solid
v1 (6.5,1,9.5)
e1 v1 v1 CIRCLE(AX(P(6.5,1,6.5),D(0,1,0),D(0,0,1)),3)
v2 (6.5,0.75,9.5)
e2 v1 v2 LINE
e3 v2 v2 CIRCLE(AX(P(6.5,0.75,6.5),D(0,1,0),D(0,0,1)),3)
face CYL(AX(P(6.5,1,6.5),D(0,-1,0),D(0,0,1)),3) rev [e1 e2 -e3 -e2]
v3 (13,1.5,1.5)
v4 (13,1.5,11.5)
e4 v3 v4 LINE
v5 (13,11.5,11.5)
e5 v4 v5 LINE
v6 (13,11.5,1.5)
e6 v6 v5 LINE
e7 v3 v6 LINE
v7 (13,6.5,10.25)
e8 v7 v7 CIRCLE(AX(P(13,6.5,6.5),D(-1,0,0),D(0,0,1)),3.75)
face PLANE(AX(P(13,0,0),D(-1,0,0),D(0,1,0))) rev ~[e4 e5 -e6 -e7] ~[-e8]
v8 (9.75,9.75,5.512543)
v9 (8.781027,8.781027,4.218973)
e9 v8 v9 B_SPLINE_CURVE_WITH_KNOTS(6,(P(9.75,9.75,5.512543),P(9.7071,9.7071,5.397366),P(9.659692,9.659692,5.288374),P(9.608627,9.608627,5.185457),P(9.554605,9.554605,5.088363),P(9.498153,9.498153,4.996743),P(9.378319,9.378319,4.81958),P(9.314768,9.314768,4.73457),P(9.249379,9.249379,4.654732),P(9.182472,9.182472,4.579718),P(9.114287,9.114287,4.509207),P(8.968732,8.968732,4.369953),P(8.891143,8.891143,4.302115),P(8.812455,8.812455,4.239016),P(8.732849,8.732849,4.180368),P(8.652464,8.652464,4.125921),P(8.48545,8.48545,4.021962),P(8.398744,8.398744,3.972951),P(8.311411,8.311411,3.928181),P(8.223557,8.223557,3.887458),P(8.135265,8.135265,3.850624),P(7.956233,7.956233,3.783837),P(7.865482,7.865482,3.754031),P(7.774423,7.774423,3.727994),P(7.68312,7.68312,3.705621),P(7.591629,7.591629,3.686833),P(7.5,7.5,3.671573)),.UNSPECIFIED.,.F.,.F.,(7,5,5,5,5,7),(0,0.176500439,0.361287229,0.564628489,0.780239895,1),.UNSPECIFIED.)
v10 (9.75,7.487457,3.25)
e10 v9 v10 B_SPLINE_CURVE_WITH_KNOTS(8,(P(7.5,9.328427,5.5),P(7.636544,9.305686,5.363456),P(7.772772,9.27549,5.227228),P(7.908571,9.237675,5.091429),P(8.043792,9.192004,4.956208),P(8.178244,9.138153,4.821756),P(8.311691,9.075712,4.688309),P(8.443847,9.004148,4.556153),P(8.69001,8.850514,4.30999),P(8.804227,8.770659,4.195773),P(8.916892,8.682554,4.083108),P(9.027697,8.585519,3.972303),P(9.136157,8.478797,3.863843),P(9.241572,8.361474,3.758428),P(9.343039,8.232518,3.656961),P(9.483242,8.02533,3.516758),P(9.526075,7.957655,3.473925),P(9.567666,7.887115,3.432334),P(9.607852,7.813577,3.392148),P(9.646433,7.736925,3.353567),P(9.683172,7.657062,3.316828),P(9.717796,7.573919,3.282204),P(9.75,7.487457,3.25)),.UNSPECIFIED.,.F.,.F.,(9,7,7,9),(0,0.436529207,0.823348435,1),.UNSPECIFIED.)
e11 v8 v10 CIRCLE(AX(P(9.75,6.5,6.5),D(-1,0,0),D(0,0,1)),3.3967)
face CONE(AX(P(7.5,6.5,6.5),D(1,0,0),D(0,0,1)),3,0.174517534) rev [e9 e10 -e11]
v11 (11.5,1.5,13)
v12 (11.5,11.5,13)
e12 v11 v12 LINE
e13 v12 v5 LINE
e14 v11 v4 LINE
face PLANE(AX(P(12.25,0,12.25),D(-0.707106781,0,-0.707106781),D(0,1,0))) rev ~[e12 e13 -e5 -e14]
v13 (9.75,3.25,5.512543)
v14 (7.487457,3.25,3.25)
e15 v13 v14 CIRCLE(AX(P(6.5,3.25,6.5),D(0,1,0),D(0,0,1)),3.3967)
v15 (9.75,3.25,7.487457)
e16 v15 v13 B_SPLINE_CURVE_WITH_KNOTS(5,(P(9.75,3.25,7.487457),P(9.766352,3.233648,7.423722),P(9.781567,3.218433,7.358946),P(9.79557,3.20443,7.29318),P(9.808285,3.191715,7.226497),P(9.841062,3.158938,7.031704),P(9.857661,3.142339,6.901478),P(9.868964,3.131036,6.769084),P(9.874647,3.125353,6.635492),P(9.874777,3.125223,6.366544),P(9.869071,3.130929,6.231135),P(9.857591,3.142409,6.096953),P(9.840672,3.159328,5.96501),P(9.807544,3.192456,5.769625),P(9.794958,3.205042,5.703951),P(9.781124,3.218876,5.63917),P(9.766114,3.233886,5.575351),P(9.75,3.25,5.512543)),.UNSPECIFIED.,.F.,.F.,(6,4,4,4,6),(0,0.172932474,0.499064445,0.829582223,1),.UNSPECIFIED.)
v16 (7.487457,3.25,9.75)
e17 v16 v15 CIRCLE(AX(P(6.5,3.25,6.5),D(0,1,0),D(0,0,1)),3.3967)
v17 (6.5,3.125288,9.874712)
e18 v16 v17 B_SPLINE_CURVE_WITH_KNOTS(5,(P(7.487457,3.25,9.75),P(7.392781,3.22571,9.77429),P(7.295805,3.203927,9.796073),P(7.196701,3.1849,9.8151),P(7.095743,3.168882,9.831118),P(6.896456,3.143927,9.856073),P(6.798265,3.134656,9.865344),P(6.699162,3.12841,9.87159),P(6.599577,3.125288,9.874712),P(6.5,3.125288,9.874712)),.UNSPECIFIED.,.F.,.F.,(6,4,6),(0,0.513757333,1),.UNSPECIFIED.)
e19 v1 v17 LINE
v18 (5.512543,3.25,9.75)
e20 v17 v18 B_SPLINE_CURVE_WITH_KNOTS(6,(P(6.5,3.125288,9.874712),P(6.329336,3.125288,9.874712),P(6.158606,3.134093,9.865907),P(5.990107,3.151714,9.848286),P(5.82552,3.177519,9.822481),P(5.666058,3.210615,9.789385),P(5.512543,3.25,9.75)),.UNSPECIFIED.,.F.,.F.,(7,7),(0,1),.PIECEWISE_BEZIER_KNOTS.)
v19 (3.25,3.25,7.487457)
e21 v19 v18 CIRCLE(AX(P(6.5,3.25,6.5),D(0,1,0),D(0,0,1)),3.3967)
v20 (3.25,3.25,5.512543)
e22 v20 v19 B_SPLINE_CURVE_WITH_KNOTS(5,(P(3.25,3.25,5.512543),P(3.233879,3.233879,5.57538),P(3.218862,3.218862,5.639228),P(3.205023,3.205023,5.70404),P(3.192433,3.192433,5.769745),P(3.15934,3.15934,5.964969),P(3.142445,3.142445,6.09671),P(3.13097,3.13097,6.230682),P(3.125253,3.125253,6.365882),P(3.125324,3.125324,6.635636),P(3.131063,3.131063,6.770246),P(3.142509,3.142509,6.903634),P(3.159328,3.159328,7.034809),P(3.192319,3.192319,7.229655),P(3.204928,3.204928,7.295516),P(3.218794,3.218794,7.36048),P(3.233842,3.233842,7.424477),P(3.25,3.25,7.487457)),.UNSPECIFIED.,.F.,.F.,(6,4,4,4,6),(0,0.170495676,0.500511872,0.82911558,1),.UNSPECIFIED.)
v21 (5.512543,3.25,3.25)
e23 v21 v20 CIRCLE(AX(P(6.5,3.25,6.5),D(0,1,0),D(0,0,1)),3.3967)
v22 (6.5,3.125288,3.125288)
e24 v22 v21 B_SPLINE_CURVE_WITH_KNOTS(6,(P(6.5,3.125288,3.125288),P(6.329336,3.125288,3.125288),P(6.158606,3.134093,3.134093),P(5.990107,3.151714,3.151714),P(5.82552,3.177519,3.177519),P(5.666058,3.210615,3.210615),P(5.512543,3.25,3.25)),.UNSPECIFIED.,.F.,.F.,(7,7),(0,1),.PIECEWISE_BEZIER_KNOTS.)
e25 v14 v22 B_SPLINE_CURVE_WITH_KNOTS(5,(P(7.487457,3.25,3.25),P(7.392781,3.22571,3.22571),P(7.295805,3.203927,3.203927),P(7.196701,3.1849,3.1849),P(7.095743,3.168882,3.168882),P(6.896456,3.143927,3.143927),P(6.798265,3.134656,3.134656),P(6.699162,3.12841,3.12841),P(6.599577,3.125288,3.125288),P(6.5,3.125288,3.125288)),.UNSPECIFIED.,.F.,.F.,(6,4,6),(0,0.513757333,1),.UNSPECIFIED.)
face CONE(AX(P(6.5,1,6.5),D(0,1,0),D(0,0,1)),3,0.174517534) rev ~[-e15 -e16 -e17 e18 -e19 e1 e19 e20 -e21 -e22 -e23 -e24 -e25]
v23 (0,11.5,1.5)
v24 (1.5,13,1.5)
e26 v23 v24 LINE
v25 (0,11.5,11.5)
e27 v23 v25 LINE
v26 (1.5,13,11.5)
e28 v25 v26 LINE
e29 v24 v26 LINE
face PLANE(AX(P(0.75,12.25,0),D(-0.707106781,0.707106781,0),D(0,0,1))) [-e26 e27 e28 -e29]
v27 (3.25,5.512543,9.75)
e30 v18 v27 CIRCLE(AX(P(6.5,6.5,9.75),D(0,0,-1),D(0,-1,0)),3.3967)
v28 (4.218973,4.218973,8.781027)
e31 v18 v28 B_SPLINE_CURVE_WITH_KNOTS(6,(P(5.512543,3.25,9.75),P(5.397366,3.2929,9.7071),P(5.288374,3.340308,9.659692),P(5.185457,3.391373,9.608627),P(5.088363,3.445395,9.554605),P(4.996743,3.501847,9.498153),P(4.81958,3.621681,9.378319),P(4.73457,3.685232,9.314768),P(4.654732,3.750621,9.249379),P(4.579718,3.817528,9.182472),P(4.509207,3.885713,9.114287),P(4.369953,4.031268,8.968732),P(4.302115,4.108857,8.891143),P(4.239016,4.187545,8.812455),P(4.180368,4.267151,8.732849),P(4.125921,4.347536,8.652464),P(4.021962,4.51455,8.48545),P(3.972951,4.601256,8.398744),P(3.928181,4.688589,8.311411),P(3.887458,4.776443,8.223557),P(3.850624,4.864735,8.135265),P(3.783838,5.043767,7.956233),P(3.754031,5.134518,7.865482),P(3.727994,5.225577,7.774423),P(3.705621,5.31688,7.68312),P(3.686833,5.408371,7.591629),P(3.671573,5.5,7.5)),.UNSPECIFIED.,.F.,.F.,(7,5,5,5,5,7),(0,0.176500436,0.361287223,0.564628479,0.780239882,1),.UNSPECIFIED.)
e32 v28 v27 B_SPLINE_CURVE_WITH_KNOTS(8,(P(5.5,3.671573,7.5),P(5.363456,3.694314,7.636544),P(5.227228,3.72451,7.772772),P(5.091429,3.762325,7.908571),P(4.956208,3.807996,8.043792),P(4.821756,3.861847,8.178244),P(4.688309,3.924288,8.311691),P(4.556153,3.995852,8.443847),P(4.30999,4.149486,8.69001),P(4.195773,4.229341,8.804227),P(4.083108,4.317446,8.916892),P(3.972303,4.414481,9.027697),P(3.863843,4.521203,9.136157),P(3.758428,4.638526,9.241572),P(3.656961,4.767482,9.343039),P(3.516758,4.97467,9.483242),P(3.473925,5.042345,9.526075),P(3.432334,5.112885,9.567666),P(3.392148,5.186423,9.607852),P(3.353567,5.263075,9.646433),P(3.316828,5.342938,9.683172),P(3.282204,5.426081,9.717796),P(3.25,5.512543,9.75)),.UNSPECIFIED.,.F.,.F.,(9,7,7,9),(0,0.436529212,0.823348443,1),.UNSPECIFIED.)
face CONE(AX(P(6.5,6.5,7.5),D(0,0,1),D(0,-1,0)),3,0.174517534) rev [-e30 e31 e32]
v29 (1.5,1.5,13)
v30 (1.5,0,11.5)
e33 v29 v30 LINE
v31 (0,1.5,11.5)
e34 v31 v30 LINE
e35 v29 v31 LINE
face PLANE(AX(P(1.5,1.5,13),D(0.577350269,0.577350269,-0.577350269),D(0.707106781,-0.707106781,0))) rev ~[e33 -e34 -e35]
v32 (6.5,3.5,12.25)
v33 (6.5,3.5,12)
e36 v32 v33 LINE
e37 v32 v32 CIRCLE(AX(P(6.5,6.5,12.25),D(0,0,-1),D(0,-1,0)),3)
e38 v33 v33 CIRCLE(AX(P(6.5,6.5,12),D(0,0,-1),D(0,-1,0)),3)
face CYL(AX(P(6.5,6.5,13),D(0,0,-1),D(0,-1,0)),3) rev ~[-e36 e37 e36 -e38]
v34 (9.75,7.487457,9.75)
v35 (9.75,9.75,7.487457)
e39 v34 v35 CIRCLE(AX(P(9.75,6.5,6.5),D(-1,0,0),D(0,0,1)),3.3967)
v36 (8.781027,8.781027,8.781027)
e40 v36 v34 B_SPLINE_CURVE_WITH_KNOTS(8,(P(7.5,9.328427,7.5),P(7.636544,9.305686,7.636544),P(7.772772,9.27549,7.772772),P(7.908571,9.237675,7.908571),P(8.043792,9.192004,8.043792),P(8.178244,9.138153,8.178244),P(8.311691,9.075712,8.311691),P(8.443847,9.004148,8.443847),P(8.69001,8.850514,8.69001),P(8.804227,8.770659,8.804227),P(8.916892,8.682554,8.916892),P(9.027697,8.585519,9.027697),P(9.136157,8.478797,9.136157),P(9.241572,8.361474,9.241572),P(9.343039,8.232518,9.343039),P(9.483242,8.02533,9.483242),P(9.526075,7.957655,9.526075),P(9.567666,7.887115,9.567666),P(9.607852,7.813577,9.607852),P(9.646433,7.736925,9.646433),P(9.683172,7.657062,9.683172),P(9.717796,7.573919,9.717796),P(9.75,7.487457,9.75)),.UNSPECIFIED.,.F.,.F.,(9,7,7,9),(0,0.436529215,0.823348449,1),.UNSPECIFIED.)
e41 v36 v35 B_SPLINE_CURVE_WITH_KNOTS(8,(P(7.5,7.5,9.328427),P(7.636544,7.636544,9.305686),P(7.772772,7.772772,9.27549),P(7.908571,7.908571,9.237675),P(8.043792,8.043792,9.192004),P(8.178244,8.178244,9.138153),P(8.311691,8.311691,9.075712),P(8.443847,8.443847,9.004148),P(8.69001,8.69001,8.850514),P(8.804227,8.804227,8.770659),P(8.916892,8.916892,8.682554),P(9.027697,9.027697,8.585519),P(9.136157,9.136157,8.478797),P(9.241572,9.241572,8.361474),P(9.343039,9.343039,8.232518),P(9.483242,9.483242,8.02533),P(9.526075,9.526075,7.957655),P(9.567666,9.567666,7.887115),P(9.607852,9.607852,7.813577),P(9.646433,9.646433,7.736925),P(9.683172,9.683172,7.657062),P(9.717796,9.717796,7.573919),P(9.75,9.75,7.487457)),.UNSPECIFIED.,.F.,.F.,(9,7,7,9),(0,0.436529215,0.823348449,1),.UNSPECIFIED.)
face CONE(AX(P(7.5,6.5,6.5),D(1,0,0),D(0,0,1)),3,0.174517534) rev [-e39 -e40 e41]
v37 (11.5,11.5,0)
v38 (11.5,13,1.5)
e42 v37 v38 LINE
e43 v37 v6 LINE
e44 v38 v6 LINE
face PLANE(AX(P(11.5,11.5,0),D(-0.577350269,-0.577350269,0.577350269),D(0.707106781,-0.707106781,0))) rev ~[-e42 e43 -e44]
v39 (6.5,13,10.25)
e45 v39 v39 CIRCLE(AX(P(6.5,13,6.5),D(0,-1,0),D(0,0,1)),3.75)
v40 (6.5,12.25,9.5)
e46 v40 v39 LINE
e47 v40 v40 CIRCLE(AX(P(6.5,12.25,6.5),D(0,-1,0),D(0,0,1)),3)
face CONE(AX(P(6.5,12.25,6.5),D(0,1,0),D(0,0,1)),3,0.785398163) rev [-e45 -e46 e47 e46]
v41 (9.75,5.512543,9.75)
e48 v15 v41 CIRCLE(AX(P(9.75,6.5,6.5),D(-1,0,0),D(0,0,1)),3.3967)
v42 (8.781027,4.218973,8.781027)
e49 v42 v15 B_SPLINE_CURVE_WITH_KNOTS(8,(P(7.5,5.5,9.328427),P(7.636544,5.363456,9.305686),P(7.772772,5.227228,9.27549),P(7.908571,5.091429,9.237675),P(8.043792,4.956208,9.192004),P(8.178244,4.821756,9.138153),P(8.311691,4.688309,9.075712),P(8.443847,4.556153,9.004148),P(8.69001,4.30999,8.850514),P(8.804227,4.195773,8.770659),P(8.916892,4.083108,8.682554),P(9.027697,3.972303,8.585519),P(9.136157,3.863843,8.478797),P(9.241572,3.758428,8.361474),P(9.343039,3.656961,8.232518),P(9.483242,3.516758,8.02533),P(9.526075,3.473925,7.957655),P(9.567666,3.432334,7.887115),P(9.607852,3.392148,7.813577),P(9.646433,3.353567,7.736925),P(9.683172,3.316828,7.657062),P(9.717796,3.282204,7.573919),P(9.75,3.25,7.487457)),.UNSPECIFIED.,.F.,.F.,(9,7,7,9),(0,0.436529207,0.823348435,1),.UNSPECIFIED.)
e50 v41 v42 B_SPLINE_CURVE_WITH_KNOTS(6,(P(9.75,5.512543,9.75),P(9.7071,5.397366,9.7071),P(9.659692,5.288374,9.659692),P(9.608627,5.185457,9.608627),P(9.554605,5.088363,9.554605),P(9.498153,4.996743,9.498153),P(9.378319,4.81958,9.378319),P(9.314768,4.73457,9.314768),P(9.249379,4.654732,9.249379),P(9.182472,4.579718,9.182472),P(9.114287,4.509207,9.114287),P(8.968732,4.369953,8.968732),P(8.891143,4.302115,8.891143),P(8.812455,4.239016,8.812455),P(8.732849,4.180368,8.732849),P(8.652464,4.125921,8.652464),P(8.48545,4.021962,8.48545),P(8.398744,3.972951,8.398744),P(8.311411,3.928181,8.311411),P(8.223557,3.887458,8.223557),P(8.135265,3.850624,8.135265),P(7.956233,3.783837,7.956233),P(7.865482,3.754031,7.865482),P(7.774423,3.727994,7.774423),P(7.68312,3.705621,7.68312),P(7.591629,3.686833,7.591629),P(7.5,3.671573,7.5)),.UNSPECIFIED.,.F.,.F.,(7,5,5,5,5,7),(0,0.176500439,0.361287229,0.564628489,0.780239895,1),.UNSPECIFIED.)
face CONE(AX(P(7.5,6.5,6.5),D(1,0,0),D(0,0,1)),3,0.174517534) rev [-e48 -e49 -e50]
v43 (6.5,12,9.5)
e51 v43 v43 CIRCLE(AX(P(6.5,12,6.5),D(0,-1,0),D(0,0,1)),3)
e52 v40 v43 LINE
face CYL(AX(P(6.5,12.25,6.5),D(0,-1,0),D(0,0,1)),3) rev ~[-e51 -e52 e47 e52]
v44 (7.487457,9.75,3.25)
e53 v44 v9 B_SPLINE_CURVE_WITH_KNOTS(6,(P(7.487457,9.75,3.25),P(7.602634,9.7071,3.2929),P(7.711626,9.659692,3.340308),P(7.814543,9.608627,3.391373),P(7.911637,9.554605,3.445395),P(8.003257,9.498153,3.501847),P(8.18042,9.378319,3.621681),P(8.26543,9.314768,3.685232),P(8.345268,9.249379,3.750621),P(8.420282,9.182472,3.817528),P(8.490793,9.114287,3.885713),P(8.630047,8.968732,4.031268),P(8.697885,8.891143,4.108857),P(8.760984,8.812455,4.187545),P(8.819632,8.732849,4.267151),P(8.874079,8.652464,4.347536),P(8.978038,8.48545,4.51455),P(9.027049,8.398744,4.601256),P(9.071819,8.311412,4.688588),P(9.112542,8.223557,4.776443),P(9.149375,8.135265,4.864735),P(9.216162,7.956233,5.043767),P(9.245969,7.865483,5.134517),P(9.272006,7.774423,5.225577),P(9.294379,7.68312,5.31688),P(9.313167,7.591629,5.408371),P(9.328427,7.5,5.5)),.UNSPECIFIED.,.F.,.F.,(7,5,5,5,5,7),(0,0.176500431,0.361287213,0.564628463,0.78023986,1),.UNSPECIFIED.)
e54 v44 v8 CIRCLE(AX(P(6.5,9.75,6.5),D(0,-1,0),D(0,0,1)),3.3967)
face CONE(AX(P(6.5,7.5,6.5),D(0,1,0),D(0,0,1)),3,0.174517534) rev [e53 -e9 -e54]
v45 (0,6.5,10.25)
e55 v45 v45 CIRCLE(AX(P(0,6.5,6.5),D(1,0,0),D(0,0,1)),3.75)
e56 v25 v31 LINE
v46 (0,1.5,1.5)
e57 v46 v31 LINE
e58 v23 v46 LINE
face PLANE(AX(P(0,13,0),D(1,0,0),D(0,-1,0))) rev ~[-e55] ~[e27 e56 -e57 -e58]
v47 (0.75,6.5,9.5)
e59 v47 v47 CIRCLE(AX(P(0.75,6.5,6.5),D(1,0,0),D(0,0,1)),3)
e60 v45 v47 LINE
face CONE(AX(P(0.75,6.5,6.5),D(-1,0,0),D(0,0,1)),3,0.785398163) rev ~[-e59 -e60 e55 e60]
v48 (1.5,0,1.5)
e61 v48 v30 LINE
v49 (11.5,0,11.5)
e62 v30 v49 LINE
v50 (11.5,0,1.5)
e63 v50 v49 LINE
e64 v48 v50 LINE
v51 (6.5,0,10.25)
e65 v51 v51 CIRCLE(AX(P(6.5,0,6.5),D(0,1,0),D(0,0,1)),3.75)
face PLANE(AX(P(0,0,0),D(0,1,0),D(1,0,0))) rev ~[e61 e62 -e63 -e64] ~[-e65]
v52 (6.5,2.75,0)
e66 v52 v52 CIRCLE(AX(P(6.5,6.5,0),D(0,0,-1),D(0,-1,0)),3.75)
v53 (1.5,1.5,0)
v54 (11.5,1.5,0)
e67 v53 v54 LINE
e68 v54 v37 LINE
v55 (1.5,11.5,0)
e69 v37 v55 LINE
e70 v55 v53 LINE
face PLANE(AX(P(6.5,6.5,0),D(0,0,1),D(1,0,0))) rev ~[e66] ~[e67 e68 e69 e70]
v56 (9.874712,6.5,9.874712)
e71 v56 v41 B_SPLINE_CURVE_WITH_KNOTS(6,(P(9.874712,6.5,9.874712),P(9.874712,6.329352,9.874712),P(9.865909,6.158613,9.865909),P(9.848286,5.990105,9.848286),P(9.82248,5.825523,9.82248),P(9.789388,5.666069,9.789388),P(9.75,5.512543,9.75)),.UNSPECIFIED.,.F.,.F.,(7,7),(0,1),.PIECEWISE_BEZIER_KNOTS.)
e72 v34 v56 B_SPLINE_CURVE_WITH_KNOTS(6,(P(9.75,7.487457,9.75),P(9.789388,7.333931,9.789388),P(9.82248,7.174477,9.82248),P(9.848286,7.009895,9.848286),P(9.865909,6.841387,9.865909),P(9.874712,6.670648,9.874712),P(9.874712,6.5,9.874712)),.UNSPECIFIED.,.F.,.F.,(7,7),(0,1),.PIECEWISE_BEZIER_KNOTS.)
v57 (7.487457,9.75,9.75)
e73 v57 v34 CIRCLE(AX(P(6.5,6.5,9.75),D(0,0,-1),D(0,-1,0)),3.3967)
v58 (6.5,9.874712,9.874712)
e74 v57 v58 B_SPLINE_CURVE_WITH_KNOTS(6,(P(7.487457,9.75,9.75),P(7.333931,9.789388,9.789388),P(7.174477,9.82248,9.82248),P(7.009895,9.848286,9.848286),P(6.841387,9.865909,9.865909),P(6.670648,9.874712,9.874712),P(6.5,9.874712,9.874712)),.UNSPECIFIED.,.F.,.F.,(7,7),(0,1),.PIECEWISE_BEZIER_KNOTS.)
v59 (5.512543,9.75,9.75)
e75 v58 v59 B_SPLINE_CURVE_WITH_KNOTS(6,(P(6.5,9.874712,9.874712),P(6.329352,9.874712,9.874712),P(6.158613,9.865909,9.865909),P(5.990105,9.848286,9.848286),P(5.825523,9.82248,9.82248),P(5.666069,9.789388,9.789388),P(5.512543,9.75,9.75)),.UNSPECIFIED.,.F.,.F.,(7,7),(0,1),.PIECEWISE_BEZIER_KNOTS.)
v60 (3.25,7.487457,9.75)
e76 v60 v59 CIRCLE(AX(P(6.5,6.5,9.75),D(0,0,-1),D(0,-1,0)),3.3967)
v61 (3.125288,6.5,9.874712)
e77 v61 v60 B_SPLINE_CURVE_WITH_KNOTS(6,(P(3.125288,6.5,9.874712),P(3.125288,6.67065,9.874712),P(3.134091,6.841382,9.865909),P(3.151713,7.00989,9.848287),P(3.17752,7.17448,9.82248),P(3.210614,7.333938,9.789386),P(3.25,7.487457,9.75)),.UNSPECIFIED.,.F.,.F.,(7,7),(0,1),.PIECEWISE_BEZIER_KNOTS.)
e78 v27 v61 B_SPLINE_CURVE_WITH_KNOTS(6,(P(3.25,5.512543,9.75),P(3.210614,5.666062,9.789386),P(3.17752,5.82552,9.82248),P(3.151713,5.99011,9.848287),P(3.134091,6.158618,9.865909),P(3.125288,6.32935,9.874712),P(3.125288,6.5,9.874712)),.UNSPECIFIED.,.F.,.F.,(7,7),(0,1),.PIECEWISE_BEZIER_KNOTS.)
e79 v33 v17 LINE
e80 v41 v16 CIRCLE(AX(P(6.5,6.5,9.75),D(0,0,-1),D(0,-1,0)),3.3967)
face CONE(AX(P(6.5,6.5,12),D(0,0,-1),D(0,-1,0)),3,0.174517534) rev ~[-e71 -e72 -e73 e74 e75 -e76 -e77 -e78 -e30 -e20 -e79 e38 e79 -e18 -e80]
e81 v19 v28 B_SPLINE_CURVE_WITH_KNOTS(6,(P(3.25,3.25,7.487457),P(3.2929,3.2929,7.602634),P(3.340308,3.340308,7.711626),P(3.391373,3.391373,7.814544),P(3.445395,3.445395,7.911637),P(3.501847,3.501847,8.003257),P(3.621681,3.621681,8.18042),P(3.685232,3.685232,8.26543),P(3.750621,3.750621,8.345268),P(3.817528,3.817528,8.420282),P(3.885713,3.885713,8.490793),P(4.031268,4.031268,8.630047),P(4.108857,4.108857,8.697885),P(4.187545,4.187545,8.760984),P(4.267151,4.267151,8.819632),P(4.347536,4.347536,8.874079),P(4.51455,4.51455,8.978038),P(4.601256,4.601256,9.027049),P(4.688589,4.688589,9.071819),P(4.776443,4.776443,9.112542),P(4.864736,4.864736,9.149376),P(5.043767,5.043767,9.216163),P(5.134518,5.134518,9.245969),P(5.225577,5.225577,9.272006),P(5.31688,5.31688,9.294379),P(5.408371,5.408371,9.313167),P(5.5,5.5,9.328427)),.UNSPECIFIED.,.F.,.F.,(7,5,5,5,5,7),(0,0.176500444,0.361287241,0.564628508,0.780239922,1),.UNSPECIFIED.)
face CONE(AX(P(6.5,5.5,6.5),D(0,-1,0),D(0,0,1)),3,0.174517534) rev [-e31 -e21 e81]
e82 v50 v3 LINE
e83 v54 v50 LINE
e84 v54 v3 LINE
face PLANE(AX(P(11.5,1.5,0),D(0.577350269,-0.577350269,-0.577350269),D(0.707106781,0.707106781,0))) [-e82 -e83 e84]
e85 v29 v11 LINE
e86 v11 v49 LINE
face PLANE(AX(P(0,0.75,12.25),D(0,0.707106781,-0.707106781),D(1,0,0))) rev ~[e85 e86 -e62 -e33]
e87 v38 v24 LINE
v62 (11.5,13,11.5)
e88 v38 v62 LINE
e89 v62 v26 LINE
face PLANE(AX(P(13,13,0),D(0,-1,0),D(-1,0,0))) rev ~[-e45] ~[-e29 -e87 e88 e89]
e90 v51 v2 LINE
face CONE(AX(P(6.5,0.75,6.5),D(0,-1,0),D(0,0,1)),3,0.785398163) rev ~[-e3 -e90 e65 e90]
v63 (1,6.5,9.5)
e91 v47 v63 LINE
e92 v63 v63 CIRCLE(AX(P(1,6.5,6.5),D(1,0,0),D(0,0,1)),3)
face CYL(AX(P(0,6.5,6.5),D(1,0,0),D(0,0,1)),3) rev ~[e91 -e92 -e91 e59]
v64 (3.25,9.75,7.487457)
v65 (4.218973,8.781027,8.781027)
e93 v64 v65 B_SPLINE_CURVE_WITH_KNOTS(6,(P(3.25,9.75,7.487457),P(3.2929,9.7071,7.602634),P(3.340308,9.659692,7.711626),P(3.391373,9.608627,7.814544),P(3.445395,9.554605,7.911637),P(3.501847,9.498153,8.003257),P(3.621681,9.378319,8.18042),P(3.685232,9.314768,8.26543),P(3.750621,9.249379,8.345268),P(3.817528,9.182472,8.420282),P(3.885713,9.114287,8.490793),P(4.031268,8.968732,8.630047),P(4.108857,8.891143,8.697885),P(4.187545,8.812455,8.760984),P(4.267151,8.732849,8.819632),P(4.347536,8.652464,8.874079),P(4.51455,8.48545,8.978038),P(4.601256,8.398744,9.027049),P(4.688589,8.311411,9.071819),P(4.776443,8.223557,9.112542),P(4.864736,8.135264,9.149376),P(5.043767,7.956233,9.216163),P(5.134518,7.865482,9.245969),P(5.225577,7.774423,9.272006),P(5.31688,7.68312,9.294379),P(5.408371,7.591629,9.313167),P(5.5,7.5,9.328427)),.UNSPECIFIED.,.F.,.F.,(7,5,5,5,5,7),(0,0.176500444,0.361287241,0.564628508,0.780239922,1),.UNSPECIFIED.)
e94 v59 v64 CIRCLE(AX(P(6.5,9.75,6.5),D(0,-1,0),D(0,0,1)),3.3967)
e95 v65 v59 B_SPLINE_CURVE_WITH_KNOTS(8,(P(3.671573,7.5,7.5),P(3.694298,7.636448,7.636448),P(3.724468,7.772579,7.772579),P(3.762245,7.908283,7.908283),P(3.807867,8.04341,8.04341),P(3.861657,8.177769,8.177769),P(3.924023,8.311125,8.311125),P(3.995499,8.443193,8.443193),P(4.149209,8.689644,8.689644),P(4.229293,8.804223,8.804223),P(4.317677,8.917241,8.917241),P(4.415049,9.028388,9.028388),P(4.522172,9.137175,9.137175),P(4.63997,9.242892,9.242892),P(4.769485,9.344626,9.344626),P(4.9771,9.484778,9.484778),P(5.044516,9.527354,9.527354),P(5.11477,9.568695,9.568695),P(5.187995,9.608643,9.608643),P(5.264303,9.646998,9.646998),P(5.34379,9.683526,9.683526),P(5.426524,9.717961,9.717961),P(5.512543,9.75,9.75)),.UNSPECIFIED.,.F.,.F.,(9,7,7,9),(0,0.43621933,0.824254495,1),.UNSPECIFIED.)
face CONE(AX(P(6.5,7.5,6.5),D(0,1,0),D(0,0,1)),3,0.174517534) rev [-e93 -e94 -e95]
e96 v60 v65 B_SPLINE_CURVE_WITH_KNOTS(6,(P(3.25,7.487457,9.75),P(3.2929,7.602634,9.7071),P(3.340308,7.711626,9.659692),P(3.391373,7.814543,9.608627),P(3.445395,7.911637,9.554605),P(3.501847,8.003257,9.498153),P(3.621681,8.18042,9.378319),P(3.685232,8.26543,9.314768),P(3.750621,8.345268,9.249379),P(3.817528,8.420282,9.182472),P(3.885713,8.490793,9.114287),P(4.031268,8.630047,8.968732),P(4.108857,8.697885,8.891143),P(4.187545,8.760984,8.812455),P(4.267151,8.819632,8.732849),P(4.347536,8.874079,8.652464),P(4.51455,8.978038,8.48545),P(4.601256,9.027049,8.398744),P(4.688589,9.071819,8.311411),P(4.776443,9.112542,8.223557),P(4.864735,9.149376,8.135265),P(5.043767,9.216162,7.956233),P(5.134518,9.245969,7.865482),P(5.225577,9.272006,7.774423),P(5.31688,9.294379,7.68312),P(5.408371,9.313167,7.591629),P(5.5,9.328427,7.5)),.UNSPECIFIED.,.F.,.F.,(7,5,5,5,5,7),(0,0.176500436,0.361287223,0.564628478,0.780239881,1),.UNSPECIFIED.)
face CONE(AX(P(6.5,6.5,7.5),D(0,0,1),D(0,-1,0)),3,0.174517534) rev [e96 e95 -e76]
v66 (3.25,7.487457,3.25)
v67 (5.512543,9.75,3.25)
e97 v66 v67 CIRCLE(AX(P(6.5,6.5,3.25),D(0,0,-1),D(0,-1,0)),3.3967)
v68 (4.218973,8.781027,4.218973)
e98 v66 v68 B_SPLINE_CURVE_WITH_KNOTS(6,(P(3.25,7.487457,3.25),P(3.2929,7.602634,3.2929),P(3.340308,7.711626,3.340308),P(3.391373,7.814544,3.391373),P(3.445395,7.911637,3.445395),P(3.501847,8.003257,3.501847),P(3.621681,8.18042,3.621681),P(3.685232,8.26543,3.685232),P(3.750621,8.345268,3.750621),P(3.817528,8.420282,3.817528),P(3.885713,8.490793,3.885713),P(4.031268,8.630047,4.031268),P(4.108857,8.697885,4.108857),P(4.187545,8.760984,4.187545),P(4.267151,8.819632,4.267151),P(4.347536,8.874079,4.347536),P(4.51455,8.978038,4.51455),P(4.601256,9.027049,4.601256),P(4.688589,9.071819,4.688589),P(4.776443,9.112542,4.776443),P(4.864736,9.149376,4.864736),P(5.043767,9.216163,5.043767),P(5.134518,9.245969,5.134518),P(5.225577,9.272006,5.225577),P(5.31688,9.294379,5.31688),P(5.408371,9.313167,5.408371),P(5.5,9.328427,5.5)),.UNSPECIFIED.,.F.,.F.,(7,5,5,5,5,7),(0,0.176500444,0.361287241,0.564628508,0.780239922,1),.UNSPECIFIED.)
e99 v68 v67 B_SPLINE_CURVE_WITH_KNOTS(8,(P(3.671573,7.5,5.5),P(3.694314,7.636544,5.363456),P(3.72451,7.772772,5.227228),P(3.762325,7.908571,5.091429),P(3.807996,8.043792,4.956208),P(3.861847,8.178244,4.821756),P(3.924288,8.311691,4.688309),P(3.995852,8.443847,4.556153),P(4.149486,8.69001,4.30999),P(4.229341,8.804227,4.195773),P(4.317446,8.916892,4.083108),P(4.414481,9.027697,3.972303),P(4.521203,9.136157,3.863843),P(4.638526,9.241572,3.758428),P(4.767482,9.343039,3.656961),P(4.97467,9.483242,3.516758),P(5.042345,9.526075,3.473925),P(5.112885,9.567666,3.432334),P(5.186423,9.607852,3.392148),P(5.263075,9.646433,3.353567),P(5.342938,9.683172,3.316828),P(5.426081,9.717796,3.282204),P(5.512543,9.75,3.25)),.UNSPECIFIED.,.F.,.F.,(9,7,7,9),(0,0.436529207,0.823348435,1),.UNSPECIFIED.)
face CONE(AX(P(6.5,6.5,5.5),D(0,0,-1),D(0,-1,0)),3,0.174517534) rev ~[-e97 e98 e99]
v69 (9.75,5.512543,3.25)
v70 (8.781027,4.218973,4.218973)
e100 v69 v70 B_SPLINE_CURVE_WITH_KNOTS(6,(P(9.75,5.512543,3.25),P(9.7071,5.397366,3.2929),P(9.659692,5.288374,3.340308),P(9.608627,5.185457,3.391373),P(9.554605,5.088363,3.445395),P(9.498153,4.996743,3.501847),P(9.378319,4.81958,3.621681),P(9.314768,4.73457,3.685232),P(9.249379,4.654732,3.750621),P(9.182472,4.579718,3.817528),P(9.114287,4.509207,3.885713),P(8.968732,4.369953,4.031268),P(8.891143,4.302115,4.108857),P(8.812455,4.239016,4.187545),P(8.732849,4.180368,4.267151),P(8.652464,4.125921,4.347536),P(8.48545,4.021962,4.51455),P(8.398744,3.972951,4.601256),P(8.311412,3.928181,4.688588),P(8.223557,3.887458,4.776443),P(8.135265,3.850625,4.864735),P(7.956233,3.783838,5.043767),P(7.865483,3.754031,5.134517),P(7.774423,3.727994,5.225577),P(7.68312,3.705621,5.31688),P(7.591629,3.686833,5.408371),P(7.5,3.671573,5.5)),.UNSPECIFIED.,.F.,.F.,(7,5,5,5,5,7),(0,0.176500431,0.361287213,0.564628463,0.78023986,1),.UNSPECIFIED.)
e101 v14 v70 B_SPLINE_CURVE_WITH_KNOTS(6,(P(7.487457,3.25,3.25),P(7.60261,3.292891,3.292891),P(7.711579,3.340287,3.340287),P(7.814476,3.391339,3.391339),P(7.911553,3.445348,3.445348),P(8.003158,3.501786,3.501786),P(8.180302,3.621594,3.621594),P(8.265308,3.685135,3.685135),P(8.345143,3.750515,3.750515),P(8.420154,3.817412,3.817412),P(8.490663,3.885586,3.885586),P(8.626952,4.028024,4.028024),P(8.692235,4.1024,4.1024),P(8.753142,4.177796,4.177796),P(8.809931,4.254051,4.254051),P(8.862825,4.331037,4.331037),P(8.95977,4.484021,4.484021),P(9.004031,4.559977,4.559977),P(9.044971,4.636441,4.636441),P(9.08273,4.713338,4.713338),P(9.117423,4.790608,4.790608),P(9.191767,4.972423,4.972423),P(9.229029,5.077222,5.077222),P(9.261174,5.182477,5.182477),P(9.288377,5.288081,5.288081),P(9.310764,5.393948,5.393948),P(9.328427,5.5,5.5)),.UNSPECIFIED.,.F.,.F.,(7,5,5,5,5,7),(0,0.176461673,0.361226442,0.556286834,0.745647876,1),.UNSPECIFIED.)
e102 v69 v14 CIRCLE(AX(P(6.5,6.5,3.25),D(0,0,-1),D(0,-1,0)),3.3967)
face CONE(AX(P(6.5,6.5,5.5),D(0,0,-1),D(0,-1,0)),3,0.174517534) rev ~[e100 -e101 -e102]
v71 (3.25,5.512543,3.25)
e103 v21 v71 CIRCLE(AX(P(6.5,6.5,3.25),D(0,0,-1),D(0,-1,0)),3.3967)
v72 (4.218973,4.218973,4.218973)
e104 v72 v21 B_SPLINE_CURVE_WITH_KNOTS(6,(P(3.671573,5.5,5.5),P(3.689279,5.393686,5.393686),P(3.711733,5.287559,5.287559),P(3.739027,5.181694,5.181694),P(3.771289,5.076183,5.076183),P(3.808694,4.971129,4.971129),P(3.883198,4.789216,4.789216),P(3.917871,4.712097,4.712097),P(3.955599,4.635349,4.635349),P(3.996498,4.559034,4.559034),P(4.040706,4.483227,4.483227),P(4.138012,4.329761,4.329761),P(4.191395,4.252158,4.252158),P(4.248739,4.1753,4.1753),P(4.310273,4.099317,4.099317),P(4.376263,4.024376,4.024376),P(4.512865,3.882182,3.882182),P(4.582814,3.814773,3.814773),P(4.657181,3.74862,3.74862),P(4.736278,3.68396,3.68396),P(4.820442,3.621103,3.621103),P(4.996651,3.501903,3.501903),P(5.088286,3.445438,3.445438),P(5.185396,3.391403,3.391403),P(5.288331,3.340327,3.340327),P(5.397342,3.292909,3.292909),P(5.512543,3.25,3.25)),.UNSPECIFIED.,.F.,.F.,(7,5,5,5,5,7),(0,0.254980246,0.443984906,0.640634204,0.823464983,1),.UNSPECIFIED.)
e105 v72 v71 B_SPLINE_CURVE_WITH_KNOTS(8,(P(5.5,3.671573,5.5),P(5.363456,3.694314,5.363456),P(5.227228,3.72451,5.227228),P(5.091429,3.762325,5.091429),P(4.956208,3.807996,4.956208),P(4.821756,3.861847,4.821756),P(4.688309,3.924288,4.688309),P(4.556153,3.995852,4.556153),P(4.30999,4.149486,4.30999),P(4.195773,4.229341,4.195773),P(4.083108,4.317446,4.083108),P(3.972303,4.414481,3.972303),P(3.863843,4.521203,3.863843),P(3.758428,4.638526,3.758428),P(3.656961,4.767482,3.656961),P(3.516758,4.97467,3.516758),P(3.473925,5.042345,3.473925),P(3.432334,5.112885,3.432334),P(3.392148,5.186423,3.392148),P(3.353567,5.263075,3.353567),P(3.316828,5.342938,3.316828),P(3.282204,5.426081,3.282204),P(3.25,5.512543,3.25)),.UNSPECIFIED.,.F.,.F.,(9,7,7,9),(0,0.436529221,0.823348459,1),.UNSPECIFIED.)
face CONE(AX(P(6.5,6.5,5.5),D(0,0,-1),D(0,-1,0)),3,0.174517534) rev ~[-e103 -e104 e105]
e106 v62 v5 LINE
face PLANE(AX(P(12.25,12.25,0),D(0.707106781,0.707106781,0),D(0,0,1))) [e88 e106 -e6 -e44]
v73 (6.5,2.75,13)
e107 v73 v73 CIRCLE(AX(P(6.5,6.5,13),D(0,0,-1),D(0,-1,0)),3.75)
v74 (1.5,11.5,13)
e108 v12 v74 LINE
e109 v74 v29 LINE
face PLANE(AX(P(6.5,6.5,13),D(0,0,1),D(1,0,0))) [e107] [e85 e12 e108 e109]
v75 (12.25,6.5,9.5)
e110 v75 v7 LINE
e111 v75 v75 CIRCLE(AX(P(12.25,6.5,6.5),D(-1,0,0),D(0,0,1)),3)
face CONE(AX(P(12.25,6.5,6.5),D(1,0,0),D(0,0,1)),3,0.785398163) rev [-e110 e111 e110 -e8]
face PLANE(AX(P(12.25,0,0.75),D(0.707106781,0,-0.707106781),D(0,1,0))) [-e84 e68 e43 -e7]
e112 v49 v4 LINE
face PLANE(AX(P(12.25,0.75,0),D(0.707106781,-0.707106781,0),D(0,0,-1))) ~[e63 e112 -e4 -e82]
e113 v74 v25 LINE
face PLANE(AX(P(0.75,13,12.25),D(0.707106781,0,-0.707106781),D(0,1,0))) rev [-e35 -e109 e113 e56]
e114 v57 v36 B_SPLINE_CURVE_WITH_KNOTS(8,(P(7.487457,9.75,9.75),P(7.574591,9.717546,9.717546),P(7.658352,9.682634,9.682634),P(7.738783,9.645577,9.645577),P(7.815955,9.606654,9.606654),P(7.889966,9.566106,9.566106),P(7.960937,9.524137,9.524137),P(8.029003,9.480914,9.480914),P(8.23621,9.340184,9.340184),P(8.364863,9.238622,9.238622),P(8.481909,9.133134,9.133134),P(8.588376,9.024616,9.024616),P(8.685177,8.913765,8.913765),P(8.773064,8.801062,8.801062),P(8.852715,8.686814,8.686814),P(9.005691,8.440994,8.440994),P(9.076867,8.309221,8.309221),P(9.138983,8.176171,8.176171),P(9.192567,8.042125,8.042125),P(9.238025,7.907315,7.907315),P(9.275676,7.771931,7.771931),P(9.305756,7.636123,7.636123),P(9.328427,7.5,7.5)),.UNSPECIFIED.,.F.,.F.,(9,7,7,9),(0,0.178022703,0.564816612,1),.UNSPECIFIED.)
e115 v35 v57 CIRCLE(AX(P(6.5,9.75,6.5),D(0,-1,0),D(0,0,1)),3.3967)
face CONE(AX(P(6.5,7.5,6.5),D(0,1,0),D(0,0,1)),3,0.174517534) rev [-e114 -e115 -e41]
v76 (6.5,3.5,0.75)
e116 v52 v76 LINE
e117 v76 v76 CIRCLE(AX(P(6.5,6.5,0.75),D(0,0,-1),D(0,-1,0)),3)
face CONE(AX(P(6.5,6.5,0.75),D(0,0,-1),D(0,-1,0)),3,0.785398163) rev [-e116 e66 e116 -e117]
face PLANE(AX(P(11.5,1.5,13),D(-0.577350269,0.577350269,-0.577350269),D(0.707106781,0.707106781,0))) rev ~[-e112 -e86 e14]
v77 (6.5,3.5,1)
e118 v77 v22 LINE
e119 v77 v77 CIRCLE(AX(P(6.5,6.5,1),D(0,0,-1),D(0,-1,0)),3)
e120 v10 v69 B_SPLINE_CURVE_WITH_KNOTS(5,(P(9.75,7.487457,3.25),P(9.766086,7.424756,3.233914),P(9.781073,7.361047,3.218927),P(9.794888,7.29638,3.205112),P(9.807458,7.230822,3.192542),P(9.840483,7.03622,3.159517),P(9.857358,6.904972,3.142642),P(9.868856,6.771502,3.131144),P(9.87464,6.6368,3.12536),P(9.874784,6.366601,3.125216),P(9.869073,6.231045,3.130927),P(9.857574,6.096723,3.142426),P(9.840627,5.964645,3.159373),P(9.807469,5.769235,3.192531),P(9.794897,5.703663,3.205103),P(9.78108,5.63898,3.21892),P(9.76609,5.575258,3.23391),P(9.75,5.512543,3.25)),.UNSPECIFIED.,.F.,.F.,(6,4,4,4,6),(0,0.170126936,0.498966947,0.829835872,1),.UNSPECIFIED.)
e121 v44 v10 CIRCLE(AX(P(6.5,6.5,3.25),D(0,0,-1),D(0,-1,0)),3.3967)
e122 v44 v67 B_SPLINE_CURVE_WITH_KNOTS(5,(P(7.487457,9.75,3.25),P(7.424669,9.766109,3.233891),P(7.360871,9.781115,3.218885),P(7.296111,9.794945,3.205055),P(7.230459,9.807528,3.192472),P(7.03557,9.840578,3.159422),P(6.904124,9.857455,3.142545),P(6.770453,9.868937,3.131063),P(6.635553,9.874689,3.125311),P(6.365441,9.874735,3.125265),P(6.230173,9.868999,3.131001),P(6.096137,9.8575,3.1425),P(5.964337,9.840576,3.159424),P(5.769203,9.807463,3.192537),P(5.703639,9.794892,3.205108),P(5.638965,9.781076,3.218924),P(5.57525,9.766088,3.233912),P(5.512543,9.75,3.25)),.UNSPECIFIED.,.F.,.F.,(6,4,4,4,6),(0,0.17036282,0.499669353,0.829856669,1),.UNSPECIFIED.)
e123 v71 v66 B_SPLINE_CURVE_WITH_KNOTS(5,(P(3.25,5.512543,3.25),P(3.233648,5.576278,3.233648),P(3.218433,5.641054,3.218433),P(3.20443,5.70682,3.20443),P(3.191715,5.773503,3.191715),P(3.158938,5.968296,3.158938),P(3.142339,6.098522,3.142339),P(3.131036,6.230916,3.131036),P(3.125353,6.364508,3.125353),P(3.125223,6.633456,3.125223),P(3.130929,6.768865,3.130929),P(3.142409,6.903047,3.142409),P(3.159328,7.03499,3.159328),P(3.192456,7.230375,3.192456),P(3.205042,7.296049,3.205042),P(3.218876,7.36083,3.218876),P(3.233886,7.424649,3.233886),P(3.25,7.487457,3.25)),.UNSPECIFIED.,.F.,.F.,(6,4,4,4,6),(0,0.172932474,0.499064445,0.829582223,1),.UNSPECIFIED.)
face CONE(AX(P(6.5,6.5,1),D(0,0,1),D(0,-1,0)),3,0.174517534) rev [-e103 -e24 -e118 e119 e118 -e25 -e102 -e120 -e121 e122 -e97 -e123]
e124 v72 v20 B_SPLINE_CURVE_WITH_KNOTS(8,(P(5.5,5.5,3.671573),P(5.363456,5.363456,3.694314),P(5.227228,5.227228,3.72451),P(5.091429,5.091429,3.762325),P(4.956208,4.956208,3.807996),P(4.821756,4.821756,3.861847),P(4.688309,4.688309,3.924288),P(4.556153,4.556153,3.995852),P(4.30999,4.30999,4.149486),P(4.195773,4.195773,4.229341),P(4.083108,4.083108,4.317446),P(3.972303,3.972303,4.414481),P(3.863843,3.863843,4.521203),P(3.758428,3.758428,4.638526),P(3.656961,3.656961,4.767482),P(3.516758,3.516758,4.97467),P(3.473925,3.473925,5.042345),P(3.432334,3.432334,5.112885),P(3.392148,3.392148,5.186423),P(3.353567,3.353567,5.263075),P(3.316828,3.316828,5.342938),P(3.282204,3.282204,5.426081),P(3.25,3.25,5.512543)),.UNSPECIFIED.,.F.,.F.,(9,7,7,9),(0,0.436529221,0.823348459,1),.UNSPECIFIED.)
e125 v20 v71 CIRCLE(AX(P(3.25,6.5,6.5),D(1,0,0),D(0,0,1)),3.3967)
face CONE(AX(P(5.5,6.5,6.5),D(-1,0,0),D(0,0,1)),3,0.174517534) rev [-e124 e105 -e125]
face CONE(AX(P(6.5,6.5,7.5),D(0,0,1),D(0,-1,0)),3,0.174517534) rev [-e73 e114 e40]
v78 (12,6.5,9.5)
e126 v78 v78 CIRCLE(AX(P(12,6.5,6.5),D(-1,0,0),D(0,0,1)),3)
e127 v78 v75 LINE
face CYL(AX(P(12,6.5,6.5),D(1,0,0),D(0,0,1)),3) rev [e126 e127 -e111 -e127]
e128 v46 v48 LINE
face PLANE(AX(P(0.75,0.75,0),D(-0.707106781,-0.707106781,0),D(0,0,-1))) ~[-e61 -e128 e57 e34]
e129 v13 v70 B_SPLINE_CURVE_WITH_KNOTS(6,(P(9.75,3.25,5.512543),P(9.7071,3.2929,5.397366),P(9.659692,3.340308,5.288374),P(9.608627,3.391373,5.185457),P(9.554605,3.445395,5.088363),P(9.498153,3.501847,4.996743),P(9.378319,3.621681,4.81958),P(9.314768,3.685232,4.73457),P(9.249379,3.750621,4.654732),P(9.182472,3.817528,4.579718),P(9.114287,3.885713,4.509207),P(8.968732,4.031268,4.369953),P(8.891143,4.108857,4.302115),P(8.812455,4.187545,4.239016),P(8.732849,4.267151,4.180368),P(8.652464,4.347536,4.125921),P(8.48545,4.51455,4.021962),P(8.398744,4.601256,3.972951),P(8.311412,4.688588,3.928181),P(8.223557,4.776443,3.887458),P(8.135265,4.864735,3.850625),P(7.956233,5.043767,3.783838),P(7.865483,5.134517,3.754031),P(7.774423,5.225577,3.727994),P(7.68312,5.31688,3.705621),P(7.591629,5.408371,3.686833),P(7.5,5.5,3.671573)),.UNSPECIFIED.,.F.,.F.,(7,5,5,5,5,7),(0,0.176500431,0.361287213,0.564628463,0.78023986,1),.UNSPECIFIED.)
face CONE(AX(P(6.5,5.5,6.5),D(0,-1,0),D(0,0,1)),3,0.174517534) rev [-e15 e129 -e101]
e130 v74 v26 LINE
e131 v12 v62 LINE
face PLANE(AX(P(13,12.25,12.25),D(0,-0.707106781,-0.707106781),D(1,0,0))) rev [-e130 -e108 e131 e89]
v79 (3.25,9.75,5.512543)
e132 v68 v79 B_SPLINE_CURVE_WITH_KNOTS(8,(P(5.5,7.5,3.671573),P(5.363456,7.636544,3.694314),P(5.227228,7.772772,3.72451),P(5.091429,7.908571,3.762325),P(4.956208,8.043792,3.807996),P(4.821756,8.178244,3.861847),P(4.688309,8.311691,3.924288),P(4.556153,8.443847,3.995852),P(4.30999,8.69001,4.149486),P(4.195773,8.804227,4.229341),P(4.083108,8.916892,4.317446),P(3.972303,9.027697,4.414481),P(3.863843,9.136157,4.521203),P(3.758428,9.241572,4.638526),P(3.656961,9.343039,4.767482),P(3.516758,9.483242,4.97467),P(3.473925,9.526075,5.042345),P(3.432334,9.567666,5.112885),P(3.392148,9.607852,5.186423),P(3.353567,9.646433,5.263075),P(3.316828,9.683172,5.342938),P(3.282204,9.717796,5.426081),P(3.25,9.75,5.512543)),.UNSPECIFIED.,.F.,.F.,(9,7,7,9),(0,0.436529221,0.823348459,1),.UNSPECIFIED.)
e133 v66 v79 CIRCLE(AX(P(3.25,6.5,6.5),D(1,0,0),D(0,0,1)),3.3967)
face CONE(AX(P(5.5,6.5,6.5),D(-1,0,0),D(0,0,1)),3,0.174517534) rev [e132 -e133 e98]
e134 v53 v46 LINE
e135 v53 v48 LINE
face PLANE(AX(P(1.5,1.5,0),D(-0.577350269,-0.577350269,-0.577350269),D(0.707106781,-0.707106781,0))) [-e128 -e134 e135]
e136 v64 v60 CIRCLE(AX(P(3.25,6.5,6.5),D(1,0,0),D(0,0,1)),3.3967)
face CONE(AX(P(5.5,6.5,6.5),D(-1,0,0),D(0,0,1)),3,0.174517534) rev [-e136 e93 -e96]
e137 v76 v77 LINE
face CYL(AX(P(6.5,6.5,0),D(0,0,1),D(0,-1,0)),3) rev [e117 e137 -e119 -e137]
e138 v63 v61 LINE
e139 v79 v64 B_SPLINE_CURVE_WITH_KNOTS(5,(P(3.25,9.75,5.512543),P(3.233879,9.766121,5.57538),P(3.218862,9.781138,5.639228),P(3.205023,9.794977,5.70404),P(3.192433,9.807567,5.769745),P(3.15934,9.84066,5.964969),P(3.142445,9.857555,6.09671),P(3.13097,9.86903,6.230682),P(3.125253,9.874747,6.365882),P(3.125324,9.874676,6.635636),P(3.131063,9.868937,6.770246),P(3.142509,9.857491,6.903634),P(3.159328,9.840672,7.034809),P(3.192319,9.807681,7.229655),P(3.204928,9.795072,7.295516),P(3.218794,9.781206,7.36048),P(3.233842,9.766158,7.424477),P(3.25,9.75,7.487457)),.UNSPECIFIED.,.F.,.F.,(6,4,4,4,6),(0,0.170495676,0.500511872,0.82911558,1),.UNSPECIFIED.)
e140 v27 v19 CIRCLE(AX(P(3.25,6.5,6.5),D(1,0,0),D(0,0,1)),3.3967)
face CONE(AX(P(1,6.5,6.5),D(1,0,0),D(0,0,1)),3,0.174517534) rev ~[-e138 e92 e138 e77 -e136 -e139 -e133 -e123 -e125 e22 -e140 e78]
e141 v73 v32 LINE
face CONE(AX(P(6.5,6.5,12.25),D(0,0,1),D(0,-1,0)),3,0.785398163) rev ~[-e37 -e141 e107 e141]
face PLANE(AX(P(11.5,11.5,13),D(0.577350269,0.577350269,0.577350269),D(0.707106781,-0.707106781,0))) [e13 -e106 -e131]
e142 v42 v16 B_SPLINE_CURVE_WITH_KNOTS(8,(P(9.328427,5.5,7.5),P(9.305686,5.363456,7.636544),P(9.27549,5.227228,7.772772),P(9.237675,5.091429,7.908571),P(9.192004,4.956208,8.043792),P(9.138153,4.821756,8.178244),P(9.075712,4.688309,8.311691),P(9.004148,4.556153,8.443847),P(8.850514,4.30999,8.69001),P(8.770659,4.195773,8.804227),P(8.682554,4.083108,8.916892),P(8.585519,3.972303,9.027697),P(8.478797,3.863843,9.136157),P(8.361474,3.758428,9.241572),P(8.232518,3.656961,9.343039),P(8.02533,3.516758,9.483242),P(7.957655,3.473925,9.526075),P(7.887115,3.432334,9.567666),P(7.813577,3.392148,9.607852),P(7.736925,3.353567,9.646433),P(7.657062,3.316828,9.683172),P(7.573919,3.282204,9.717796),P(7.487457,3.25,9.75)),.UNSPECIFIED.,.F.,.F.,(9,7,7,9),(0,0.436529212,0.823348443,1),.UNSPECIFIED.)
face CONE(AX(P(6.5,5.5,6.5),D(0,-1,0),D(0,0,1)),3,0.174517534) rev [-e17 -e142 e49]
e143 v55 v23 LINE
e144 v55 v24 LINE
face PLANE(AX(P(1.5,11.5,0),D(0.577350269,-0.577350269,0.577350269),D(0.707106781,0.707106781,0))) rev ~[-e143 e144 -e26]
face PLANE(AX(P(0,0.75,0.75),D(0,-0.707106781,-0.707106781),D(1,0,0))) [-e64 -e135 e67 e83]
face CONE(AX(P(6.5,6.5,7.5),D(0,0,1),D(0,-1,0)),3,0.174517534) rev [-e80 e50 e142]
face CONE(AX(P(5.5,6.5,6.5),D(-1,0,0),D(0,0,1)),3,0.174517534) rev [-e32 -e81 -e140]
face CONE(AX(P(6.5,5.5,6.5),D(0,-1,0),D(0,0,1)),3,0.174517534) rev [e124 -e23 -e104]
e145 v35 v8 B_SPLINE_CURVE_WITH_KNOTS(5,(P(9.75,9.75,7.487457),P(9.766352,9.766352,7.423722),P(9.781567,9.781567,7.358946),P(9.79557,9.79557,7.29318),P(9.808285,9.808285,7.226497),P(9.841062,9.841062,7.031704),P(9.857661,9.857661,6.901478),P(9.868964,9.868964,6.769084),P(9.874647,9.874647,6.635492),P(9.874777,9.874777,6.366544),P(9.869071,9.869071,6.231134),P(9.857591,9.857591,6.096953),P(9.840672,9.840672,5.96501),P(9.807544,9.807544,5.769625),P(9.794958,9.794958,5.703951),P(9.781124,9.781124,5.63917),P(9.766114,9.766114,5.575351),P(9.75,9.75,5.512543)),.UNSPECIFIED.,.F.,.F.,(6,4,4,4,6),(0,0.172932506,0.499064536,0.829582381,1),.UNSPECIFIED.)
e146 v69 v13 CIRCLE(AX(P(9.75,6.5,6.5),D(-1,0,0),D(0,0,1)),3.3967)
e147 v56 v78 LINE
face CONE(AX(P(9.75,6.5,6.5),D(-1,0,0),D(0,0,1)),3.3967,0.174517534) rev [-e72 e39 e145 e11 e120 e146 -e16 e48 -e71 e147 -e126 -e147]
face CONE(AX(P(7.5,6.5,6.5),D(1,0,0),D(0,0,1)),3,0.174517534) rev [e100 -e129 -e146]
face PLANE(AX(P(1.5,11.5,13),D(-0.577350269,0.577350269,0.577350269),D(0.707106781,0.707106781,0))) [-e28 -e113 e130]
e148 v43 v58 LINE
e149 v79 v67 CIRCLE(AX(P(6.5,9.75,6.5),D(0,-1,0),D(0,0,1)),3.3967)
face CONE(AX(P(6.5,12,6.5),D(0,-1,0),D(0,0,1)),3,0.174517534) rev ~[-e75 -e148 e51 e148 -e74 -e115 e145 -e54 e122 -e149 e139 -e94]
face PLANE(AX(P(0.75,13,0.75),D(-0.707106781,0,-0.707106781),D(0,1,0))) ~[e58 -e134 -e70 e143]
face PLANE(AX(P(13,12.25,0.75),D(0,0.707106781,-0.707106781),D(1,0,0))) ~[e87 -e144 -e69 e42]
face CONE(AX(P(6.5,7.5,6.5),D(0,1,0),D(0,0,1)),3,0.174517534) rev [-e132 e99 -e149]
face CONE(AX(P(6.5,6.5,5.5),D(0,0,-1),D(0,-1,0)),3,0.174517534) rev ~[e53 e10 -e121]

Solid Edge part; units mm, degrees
sketch "Sketch1" plane through (0, 0, 0) normal (0, 0, 1) x (1, 0, 0)
  line L0 (13, 0) -> (13, 13)
  line L1 (13, 13) -> (0, 13)
  line L2 (0, 13) -> (0, 0)
  line L3 (0, 0) -> (13, 0)
extrude "Protrusion1" add sketch "Sketch1" along normal blind 13
sketch "Sketch2" plane through (6.5, 32.5, 6.5) normal (-1, 0, 0) x (0, -1, 0)
  line L0 (29, 6.5) -> (26, 6.5)
  line L1 (26, 6.5) -> (26, -6.5)
  line L2 (26, -6.5) -> (29, -6.5)
  line L3 (29, -6.5) -> (29, -5.5)
  line L4 (29, -5.5) -> (29.3967, -3.25)
  line L5 (29, -1) -> (29.3967, -3.25)
  line L6 (29, 0) -> (29, -1)
  line L7 (29, 0) -> (29, 1)
  line L8 (29, 1) -> (29.3967, 3.25)
  line L9 (29, 5.5) -> (29.3967, 3.25)
  line L10 (29, 6.5) -> (29, 5.5)
revolve "RevolvedCutout1" cut sketch "Sketch2" angle 360 about axis through (6.5, 6.5, 13) along (0, 0, -1)
chamfer "Chaflán_1" distance 0.75 angle 45 2 edges at (3.5, 6.5, 13) (3.5, 6.5, 0)
pattern "Pattern1" [suppressed]
sketch "Sketch3" plane through (6.5, 32.5, 6.5) normal (-1, 0, 0) x (0, -1, 0)
  line L0 (31.5, 3) -> (32.5, 3)
  line L1 (32.5, 3) -> (32.5, 0)
  line L2 (32.5, 0) -> (31.5, 0)
  line L3 (31.5, 0) -> (26, 0)
  line L4 (26, 0) -> (26, 3)
  line L5 (26, 3) -> (27, 3)
  line L6 (27, 3) -> (29.25, 3.3967)
  line L7 (31.5, 3) -> (29.25, 3.3967)
revolve "RevolvedCutout2" cut sketch "Sketch3" angle 360 about axis through (6.5, 1, 6.5) along (0, 1, 0)
chamfer "Chaflán_2" distance 0.75 angle 45 1 edges at (6.5, 0, 3.5)
pattern "Pattern3" [suppressed]
sketch "Sketch4" plane through (13, 6.5, 6.5) normal (0, -1, 0) x (1, 0, 0)
  line L0 (-13, 3) -> (-12, 3)
  line L1 (-12, 3) -> (-9.75, 3.3967)
  line L2 (-7.5, 3) -> (-9.75, 3.3967)
  line L3 (-6.5, 3) -> (-7.5, 3)
  line L4 (-6.5, 0) -> (-6.5, 3)
  line L5 (-13, 0) -> (-6.5, 0)
  line L6 (-13, 3) -> (-13, 0)
revolve "RevolvedCutout3" cut sketch "Sketch4" angle 360 about axis through (0, 6.5, 6.5) along (1, 0, 0)
chamfer "Chaflán_531" distance 0.75 angle 45 1 edges at (0, 6.5, 3.5)
pattern_linear "Pattern5" count 2 spacing 13 along (0, 1, 0) of "RevolvedCutout3"
chamfer "Chamfer1" [suppressed]
sketch "Sketch5" plane through (13, 6.5, 6.5) normal (0, -1, 0) x (1, 0, 0)
  line L0 (-3.25, 3.3967) -> (-1, 3)
  line L1 (-1, 3) -> (-0.75, 3)
  line L2 (-0.75, 3) -> (0, 3.75)
  line L3 (0, 3) -> (0, 3.75)
  line L4 (0, 0) -> (0, 3)
  line L5 (0, 0) -> (-6.5, 0)
  line L6 (-6.5, 0) -> (-6.5, 3)
  line L7 (-6.5, 3) -> (-5.5, 3)
  line L8 (-5.5, 3) -> (-3.25, 3.3967)
revolve "RevolvedCutout5" cut sketch "Sketch5" angle 360 about axis through (52, 6.5, 6.5) along (-1, 0, 0)
pattern_linear "Pattern6" count 2 spacing 13 along (0, 1, 0) of "RevolvedCutout5"
sketch "Sketch6" plane through (6.5, 32.5, 6.5) normal (-1, 0, 0) x (0, -1, 0)
  line L0 (20.25, 3) -> (20.5, 3)
  line L1 (20.5, 3) -> (22.75, 3.3967)
  line L2 (25, 3) -> (22.75, 3.3967)
  line L3 (26, 3) -> (25, 3)
  line L4 (26, 0) -> (26, 3)
  line L5 (19.5, 0) -> (26, 0)
  line L6 (19.5, 3) -> (19.5, 0)
  line L7 (19.5, 3) -> (19.5, 3.75)
  line L8 (20.25, 3) -> (19.5, 3.75)
revolve "RevolvedCutout7" cut sketch "Sketch6" angle 360 about axis through (6.5, 182, 6.5) along (0, -1, 0)
pattern_linear "Pattern7" count 2 spacing 13 along (1, 0, 0) of "RevolvedCutout7"
chamfer "Chaflán_547" distance 1.5 angle 45 12 edges at (0, 0, 6.5) (13, 0, 6.5) (0, 13, 6.5) (13, 13, 6.5) (0, 6.5, 13) (6.5, 13, 13) (6.5, 0, 13) (13, 6.5, 13) (0, 6.5, 0) (6.5, 0, 0) (6.5, 13, 0) (13, 6.5, 0)
